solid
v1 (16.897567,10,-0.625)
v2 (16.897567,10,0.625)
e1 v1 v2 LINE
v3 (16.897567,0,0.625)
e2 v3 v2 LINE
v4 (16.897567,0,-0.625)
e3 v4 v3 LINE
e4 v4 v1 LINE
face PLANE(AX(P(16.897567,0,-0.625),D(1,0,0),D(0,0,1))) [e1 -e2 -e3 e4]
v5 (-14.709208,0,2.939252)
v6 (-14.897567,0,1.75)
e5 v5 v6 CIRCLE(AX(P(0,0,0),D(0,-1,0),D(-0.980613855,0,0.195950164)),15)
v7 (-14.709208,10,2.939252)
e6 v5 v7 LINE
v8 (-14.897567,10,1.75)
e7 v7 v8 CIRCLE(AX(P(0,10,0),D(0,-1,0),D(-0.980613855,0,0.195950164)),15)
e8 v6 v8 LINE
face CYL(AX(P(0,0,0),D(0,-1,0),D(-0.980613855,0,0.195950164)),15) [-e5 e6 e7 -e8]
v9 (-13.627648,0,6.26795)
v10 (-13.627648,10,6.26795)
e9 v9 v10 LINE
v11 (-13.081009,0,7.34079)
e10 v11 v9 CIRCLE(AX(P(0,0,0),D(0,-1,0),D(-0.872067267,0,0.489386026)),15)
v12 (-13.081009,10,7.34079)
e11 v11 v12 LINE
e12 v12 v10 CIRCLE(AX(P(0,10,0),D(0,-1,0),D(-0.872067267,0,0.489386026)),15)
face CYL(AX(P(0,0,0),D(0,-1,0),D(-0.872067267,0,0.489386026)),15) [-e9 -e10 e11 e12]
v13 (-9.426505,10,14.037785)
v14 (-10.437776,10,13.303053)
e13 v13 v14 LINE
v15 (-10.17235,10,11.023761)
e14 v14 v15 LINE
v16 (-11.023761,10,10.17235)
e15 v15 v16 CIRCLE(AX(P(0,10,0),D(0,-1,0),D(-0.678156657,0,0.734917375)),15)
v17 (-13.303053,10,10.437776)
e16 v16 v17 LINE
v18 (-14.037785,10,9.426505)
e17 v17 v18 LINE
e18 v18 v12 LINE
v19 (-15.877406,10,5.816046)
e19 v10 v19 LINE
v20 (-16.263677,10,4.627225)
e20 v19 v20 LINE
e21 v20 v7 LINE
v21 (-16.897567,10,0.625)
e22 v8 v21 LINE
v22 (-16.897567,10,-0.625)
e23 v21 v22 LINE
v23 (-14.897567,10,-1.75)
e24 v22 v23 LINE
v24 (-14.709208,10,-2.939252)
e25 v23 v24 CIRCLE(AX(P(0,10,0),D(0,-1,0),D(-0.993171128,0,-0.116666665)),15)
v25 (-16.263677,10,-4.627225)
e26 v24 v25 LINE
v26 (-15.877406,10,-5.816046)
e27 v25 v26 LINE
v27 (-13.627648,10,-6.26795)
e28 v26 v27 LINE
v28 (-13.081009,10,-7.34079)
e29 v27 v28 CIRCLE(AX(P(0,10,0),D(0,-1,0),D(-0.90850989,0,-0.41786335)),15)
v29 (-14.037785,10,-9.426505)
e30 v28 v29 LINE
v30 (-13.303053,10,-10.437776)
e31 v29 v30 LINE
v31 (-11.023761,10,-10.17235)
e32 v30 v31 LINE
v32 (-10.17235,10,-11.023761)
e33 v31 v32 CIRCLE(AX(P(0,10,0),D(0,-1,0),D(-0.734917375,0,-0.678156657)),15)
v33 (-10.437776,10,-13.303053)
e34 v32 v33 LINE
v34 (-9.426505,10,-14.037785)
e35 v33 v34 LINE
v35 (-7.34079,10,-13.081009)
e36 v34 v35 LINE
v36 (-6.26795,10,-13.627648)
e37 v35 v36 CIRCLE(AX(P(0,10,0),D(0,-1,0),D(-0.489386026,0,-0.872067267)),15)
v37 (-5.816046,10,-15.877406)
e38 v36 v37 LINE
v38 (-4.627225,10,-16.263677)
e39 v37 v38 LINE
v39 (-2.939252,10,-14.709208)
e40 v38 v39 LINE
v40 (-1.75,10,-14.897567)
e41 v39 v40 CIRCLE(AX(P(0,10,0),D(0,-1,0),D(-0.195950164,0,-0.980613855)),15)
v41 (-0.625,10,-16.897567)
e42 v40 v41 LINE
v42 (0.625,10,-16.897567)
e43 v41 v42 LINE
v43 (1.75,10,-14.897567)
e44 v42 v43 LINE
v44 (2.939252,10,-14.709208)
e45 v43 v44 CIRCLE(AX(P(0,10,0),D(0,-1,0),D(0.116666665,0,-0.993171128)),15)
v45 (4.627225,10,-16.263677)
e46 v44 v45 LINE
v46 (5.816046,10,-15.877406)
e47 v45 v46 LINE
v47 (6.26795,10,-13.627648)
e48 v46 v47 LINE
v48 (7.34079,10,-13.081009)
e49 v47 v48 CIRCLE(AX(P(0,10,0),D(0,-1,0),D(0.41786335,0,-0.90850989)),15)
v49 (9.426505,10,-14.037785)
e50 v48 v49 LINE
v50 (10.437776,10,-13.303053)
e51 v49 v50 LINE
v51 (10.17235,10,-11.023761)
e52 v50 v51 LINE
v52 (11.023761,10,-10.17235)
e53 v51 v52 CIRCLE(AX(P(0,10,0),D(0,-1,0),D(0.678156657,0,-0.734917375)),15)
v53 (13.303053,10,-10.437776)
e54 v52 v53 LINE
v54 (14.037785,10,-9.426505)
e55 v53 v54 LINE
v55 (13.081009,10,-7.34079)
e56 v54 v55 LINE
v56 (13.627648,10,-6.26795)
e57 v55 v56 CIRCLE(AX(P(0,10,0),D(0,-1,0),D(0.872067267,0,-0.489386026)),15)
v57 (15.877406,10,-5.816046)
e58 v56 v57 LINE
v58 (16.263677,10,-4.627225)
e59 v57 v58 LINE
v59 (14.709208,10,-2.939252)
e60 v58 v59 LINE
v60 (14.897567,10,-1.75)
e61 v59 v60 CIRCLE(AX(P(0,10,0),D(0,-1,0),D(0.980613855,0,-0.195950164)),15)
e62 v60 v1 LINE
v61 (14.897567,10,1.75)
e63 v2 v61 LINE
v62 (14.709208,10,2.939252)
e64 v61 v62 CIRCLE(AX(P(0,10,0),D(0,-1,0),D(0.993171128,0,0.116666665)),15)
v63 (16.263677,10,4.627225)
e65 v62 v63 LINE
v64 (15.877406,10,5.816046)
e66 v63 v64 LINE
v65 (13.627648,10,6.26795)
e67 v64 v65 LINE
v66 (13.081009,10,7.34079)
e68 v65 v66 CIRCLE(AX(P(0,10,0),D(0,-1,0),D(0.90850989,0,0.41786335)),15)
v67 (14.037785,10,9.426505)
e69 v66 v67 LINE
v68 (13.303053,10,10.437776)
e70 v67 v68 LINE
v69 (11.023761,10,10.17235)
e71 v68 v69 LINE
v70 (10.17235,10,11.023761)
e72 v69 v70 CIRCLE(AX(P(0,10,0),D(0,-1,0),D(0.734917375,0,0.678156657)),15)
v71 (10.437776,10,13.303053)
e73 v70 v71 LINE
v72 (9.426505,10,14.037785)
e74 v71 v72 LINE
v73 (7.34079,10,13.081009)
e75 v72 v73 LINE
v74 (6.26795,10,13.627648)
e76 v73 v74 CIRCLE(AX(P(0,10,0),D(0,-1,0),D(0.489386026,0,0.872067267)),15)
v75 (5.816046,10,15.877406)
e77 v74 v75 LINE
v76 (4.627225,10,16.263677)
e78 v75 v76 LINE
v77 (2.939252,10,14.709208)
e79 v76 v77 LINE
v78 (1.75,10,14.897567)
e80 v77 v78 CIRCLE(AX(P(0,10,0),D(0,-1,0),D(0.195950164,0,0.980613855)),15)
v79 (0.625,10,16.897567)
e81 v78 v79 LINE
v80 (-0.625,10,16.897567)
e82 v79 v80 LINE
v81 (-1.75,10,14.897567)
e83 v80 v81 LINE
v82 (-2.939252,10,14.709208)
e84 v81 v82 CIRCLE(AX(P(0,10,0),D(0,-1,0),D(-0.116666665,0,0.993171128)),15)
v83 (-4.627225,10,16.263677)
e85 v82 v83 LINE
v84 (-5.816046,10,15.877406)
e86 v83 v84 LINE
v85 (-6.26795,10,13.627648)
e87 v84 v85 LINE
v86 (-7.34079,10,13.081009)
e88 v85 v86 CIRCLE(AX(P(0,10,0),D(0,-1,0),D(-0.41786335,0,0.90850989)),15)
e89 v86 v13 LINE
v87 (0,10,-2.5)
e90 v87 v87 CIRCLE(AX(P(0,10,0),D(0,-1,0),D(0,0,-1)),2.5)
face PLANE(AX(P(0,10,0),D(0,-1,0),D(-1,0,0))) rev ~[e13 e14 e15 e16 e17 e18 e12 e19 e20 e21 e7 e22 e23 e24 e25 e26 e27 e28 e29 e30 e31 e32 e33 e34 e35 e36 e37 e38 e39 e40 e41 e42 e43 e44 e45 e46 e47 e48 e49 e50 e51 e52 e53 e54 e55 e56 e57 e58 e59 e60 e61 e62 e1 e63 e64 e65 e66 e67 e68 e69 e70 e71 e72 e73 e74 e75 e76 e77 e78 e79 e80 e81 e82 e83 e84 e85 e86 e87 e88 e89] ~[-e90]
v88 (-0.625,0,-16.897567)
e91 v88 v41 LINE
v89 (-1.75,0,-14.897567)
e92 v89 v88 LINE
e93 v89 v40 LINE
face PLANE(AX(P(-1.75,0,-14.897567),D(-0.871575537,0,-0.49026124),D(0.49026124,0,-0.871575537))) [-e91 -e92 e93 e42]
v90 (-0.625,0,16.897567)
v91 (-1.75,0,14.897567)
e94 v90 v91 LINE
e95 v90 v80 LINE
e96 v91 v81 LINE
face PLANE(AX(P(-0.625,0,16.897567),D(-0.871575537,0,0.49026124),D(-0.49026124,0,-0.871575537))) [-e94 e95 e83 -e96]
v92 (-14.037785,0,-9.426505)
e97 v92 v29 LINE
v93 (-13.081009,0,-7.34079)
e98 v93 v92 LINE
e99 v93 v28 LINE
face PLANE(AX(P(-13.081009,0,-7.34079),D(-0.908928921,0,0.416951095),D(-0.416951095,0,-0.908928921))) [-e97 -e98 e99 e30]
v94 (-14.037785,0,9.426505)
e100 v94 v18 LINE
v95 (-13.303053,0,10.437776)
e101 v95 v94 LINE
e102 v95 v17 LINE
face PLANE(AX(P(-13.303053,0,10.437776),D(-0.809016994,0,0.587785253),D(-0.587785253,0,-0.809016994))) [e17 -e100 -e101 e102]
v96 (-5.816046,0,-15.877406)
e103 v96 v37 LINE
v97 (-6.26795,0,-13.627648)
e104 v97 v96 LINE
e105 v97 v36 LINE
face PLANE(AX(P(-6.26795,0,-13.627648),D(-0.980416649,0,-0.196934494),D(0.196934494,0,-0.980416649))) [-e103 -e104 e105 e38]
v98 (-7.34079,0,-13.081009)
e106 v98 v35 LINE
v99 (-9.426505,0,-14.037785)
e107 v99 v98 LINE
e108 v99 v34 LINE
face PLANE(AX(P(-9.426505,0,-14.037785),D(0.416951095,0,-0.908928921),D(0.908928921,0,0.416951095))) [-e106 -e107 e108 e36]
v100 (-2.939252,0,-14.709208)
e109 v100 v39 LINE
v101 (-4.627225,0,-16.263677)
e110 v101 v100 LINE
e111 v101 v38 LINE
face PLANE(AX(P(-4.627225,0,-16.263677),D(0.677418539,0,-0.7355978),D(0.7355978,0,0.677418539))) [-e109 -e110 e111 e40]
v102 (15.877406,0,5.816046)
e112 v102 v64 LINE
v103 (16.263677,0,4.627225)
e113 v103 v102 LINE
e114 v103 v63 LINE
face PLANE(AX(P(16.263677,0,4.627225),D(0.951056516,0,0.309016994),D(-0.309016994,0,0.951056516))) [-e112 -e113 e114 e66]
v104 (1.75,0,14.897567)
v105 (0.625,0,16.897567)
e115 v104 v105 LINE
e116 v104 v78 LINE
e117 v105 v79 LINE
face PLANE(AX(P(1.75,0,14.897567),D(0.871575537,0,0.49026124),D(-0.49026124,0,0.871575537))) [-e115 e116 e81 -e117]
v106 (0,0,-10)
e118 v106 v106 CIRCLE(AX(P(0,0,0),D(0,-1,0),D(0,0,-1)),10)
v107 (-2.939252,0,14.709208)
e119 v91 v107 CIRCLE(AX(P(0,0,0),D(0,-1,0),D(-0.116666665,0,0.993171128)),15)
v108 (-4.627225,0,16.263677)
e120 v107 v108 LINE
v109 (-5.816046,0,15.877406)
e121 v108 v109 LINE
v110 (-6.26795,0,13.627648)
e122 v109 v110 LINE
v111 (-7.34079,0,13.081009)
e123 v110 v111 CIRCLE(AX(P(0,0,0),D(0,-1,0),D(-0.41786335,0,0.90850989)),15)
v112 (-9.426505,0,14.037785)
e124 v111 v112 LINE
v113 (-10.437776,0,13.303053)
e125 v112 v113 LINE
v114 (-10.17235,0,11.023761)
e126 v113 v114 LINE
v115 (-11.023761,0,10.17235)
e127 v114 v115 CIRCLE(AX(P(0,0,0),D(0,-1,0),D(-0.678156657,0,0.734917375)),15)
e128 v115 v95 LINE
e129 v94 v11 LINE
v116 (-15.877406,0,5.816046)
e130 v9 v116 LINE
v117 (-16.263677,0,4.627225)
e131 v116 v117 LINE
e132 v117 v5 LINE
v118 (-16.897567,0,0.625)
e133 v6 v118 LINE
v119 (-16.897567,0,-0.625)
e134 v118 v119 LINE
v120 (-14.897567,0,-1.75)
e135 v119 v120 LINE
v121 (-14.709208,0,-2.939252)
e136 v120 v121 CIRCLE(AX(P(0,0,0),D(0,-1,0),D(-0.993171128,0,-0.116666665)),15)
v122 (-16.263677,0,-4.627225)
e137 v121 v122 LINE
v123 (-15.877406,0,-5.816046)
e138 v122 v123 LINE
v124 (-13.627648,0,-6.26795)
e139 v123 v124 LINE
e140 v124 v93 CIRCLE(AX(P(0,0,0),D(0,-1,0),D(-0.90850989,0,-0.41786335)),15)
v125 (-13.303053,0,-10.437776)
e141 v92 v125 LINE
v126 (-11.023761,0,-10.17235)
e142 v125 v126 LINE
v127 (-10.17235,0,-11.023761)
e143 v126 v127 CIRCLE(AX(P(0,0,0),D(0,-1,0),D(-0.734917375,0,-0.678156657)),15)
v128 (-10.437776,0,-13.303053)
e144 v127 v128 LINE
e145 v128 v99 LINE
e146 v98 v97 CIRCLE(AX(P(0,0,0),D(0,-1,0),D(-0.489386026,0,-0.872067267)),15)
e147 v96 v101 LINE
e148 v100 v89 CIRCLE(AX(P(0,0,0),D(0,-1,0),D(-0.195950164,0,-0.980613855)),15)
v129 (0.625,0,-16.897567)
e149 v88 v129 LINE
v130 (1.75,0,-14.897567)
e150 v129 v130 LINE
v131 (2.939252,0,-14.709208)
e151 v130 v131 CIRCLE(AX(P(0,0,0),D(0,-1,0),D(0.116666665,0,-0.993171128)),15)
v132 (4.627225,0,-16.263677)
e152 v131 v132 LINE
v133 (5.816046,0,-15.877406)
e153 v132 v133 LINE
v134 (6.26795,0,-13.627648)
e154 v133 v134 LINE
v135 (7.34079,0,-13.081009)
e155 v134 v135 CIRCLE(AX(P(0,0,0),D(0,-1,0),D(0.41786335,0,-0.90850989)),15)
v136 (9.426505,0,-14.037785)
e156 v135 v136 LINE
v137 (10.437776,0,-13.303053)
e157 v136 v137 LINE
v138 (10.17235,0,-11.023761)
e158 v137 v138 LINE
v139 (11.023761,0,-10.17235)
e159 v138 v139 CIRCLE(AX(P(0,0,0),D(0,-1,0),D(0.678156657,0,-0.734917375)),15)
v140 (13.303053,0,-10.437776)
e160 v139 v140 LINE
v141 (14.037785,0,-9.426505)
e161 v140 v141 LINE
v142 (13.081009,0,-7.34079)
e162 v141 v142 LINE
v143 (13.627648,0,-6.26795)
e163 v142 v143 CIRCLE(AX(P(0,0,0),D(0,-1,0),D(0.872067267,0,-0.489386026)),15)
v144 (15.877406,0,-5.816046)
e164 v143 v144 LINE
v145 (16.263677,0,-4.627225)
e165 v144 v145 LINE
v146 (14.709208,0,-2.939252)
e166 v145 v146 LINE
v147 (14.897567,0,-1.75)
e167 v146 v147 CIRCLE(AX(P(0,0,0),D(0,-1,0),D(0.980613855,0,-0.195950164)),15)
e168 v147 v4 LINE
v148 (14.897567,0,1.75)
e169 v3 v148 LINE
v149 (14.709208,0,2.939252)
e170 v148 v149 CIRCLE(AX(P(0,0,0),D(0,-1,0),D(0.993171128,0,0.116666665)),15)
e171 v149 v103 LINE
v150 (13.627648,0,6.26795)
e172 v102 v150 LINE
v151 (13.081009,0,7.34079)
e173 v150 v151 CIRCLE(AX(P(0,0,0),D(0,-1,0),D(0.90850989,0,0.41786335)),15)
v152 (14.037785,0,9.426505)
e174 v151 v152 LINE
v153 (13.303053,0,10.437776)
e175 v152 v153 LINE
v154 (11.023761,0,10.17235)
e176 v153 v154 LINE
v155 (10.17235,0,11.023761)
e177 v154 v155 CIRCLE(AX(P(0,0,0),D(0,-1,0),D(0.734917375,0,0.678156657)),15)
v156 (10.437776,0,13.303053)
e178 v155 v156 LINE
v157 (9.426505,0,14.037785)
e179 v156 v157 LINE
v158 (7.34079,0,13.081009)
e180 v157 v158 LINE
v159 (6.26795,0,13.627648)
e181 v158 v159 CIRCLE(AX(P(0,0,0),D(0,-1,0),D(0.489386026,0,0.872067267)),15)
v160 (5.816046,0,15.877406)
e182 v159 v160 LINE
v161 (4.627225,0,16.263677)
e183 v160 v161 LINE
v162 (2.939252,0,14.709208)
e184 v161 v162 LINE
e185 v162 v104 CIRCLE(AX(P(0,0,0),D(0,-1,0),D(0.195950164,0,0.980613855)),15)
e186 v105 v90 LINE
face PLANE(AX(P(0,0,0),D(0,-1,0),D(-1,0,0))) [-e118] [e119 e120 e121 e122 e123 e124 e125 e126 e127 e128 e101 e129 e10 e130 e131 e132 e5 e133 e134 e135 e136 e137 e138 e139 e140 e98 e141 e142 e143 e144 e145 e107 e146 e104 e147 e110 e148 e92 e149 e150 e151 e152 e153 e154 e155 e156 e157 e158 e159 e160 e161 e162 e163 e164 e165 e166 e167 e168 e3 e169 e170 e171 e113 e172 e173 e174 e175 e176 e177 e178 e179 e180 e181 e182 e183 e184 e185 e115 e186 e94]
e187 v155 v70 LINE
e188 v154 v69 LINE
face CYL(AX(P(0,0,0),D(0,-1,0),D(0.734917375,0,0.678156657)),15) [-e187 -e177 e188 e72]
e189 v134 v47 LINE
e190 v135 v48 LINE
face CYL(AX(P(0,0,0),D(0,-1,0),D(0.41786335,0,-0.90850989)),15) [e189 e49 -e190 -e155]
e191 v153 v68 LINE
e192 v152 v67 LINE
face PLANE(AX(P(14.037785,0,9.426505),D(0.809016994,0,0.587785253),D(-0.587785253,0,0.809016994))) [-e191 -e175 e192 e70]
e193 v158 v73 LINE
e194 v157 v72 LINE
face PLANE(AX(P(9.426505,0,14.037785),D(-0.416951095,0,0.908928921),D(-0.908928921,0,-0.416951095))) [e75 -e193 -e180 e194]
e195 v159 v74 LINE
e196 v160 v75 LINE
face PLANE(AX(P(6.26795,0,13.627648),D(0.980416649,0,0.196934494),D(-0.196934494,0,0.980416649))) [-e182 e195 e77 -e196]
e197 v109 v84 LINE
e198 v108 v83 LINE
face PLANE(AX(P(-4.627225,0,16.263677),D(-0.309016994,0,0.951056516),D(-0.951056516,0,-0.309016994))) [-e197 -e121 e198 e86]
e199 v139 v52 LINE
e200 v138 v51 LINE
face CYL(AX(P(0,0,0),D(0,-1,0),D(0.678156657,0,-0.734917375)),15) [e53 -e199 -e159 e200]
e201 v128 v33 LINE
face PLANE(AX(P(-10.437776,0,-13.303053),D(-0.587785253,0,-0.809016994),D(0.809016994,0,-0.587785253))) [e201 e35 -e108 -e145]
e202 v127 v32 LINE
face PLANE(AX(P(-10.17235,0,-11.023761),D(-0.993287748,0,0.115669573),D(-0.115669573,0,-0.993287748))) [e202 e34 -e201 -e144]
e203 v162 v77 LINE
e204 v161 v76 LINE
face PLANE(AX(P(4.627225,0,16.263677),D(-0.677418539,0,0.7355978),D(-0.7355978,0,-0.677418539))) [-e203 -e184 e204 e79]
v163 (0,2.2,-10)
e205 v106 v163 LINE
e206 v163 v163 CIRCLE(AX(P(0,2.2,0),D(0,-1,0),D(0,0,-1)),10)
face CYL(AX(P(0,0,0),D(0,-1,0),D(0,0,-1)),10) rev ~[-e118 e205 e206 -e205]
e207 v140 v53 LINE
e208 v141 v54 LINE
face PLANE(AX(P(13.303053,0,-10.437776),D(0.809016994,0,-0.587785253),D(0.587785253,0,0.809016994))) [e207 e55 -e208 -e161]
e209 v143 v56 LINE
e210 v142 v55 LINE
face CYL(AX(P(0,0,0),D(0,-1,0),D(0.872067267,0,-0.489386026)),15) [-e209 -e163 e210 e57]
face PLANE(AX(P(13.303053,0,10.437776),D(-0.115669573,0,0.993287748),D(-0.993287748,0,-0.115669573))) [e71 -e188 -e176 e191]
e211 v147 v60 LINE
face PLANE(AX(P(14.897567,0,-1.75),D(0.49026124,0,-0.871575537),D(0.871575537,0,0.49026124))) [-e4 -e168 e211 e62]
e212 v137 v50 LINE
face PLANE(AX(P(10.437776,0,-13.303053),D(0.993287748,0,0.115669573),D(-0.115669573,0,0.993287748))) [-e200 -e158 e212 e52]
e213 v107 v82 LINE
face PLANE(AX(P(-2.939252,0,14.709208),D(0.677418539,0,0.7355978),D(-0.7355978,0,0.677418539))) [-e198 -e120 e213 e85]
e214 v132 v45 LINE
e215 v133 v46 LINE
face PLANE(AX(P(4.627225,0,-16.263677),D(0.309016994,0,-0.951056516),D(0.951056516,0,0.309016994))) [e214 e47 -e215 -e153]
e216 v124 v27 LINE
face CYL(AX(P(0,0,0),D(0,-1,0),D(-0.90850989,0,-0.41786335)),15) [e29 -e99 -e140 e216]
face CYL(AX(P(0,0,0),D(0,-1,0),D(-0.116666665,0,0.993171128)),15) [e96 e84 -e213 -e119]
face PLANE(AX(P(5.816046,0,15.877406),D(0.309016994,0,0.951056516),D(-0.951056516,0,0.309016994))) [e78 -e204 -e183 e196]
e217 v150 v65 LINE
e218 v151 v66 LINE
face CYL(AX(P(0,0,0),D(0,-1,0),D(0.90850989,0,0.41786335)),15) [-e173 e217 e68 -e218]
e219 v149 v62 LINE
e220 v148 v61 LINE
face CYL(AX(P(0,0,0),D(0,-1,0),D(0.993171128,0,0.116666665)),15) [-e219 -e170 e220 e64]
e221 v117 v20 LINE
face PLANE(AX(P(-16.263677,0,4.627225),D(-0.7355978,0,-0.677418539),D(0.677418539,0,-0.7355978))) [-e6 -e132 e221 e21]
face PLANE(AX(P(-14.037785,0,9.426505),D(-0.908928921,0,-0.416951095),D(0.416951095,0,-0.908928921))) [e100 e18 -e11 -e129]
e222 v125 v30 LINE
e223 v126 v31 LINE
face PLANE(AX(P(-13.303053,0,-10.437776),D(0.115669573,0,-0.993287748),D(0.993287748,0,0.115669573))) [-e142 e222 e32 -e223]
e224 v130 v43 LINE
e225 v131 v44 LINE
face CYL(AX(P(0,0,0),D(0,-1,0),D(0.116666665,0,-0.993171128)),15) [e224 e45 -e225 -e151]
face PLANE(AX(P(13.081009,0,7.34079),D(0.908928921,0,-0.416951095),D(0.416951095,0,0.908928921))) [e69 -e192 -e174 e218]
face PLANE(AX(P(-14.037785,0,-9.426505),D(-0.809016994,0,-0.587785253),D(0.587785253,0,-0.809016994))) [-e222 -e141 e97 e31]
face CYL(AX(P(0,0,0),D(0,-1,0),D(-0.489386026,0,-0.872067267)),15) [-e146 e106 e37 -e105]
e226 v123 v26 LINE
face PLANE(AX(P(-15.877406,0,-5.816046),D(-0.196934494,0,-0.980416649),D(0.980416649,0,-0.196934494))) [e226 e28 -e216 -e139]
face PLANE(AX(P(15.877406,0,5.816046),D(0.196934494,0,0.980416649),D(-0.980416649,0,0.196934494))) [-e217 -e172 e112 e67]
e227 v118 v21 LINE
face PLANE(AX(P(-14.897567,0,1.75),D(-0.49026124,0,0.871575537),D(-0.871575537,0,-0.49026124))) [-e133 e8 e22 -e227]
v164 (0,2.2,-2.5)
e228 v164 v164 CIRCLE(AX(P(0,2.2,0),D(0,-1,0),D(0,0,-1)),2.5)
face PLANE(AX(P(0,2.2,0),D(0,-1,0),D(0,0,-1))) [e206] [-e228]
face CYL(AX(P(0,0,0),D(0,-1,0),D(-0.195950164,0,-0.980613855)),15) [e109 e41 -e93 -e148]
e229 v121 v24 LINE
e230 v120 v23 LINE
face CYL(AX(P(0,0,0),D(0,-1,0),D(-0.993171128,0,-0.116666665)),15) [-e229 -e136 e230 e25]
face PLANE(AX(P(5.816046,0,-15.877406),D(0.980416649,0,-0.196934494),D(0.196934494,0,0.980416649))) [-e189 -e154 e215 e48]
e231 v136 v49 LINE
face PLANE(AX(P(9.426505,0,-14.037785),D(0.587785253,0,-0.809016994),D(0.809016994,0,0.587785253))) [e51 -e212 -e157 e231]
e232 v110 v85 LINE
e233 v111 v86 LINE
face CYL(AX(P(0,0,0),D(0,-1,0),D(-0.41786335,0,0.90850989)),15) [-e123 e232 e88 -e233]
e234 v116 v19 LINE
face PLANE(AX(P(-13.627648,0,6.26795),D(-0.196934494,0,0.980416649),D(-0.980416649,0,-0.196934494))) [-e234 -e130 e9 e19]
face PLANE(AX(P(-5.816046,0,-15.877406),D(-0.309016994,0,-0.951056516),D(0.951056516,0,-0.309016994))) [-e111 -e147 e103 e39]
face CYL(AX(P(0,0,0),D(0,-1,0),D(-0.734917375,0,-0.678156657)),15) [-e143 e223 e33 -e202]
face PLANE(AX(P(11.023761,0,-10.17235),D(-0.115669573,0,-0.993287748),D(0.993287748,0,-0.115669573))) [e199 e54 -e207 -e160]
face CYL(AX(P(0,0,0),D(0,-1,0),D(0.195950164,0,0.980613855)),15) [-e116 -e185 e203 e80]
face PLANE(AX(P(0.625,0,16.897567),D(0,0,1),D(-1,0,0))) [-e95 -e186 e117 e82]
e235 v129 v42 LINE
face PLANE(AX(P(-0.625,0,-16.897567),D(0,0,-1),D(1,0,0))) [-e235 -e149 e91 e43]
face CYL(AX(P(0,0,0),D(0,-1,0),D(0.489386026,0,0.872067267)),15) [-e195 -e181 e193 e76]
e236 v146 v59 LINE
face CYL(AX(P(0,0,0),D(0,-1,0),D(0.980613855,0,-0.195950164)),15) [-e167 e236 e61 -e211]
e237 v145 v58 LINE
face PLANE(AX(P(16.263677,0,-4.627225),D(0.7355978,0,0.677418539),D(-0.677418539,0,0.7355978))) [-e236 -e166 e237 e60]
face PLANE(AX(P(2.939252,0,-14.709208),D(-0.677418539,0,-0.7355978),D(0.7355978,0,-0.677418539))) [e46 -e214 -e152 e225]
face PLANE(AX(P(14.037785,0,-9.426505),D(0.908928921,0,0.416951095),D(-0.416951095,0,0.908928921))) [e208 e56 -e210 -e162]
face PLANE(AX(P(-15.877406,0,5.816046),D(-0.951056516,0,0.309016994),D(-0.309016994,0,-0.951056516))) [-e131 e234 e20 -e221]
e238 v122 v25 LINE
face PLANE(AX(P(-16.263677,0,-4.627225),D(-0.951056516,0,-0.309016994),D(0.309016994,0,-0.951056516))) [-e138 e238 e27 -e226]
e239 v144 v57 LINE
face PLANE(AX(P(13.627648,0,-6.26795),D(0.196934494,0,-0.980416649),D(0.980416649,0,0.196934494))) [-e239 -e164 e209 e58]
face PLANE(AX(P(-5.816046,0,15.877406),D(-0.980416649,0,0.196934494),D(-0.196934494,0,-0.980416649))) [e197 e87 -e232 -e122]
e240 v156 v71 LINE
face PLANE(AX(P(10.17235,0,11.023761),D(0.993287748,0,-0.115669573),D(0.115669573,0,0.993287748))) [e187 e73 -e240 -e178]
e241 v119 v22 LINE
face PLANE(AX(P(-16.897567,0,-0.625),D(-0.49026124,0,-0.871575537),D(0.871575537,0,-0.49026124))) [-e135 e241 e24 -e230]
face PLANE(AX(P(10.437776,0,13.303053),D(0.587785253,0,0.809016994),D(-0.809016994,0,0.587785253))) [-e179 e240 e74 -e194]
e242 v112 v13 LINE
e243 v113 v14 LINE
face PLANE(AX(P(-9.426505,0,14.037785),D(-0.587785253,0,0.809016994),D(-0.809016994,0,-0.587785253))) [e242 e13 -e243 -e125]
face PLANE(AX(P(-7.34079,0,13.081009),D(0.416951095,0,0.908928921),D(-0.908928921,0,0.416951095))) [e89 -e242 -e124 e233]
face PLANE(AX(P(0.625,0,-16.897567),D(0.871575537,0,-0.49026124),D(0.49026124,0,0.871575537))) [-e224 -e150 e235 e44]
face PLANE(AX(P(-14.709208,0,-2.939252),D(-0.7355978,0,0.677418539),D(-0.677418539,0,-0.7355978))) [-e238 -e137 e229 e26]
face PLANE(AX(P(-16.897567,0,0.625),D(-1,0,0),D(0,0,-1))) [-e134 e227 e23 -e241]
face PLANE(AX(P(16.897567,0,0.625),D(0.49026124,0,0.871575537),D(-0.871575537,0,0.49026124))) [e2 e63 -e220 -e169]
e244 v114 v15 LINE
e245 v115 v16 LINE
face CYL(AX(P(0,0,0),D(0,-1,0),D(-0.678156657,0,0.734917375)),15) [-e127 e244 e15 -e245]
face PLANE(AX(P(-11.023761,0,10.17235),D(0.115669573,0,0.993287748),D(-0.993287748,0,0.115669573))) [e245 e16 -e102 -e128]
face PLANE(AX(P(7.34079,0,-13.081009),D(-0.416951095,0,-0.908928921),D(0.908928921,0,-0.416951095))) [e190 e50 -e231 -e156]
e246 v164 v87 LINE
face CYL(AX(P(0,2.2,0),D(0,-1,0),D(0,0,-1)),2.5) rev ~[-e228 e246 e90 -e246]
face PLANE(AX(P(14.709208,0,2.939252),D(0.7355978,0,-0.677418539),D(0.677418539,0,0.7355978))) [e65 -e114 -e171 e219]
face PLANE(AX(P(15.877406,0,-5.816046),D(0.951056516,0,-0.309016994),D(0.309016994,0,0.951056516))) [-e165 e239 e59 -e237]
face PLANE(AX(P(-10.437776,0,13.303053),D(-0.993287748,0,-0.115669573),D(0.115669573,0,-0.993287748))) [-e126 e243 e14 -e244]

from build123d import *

# Parameters (mm, degrees)
BOSS_EXTRUDE2_DEPTH = 10
SKETCH3_R           = 10
CUT_EXTRUDE1_DEPTH  = 2.2
SKETCH4_R           = 2.5
CUT_EXTRUDE2_DEPTH  = 26.137532403


with BuildPart() as part:
    # Sketch2 → Boss-Extrude2 (new body)
    with BuildSketch(Plane(origin=(0, 0, 0), x_dir=(1, 0, 0), z_dir=(0, 1, 0))):
        with BuildLine():
            Line((-0.625, 16.897566915), (0.625, 16.897566915))
            Line((0.625, 16.897566915), (1.75, 14.897566915))
            ThreePointArc((1.75, 14.897566915), (2.346516976, 14.815325109), (2.939252448, 14.709207832))
            Line((2.939252448, 14.709207832), (4.627225018, 16.263676746))
            Line((4.627225018, 16.263676746), (5.816045663, 15.877405503))
            Line((5.816045663, 15.877405503), (6.267950255, 13.627648352))
            ThreePointArc((6.267950255, 13.627648352), (6.809857496, 13.365097863), (7.340790388, 13.081009001))
            Line((7.340790388, 13.081009001), (9.426505011, 14.037784581))
            Line((9.426505011, 14.037784581), (10.437776254, 13.303053015))
            Line((10.437776254, 13.303053015), (10.172349868, 11.023760618))
            ThreePointArc((10.172349868, 11.023760618), (10.606601718, 10.606601718), (11.023760618, 10.172349868))
            Line((11.023760618, 10.172349868), (13.303053015, 10.437776254))
            Line((13.303053015, 10.437776254), (14.037784581, 9.426505011))
            Line((14.037784581, 9.426505011), (13.081009001, 7.340790388))
            ThreePointArc((13.081009001, 7.340790388), (13.365097863, 6.809857496), (13.627648352, 6.267950255))
            Line((13.627648352, 6.267950255), (15.877405503, 5.816045663))
            Line((15.877405503, 5.816045663), (16.263676746, 4.627225018))
            Line((16.263676746, 4.627225018), (14.709207832, 2.939252448))
            ThreePointArc((14.709207832, 2.939252448), (14.815325109, 2.346516976), (14.897566915, 1.75))
            Line((14.897566915, 1.75), (16.897566915, 0.625))
            Line((16.897566915, 0.625), (16.897566915, -0.625))
            Line((16.897566915, -0.625), (14.897566915, -1.75))
            ThreePointArc((14.897566915, -1.75), (14.815325109, -2.346516976), (14.709207832, -2.939252448))
            Line((14.709207832, -2.939252448), (16.263676746, -4.627225018))
            Line((16.263676746, -4.627225018), (15.877405503, -5.816045663))
            Line((15.877405503, -5.816045663), (13.627648352, -6.267950255))
            ThreePointArc((13.627648352, -6.267950255), (13.365097863, -6.809857496), (13.081009001, -7.340790388))
            Line((13.081009001, -7.340790388), (14.037784581, -9.426505011))
            Line((14.037784581, -9.426505011), (13.303053015, -10.437776254))
            Line((13.303053015, -10.437776254), (11.023760618, -10.172349868))
            ThreePointArc((11.023760618, -10.172349868), (10.606601718, -10.606601718), (10.172349868, -11.023760618))
            Line((10.172349868, -11.023760618), (10.437776254, -13.303053015))
            Line((10.437776254, -13.303053015), (9.426505011, -14.037784581))
            Line((9.426505011, -14.037784581), (7.340790388, -13.081009001))
            ThreePointArc((7.340790388, -13.081009001), (6.809857496, -13.365097863), (6.267950255, -13.627648352))
            Line((6.267950255, -13.627648352), (5.816045663, -15.877405503))
            Line((5.816045663, -15.877405503), (4.627225018, -16.263676746))
            Line((4.627225018, -16.263676746), (2.939252448, -14.709207832))
            ThreePointArc((2.939252448, -14.709207832), (2.346516976, -14.815325109), (1.75, -14.897566915))
            Line((1.75, -14.897566915), (0.625, -16.897566915))
            Line((0.625, -16.897566915), (-0.625, -16.897566915))
            Line((-0.625, -16.897566915), (-1.75, -14.897566915))
            ThreePointArc((-1.75, -14.897566915), (-2.346516976, -14.815325109), (-2.939252448, -14.709207832))
            Line((-2.939252448, -14.709207832), (-4.627225018, -16.263676746))
            Line((-4.627225018, -16.263676746), (-5.816045663, -15.877405503))
            Line((-5.816045663, -15.877405503), (-6.267950255, -13.627648352))
            ThreePointArc((-6.267950255, -13.627648352), (-6.809857496, -13.365097863), (-7.340790388, -13.081009001))
            Line((-7.340790388, -13.081009001), (-9.426505011, -14.037784581))
            Line((-9.426505011, -14.037784581), (-10.437776254, -13.303053015))
            Line((-10.437776254, -13.303053015), (-10.172349868, -11.023760618))
            ThreePointArc((-10.172349868, -11.023760618), (-10.606601718, -10.606601718), (-11.023760618, -10.172349868))
            Line((-11.023760618, -10.172349868), (-13.303053015, -10.437776254))
            Line((-13.303053015, -10.437776254), (-14.037784581, -9.426505011))
            Line((-14.037784581, -9.426505011), (-13.081009001, -7.340790388))
            ThreePointArc((-13.081009001, -7.340790388), (-13.365097863, -6.809857496), (-13.627648352, -6.267950255))
            Line((-13.627648352, -6.267950255), (-15.877405503, -5.816045663))
            Line((-15.877405503, -5.816045663), (-16.263676746, -4.627225018))
            Line((-16.263676746, -4.627225018), (-14.709207832, -2.939252448))
            ThreePointArc((-14.709207832, -2.939252448), (-14.815325109, -2.346516976), (-14.897566915, -1.75))
            Line((-14.897566915, -1.75), (-16.897566915, -0.625))
            Line((-16.897566915, -0.625), (-16.897566915, 0.625))
            Line((-16.897566915, 0.625), (-14.897566915, 1.75))
            ThreePointArc((-14.897566915, 1.75), (-14.815325109, 2.346516976), (-14.709207832, 2.939252448))
            Line((-14.709207832, 2.939252448), (-16.263676746, 4.627225018))
            Line((-16.263676746, 4.627225018), (-15.877405503, 5.816045663))
            Line((-15.877405503, 5.816045663), (-13.627648352, 6.267950255))
            ThreePointArc((-13.627648352, 6.267950255), (-13.365097863, 6.809857496), (-13.081009001, 7.340790388))
            Line((-13.081009001, 7.340790388), (-14.037784581, 9.426505011))
            Line((-14.037784581, 9.426505011), (-13.303053015, 10.437776254))
            Line((-13.303053015, 10.437776254), (-11.023760618, 10.172349868))
            ThreePointArc((-11.023760618, 10.172349868), (-10.606601718, 10.606601718), (-10.172349868, 11.023760618))
            Line((-10.172349868, 11.023760618), (-10.437776254, 13.303053015))
            Line((-10.437776254, 13.303053015), (-9.426505011, 14.037784581))
            Line((-9.426505011, 14.037784581), (-7.340790388, 13.081009001))
            ThreePointArc((-7.340790388, 13.081009001), (-6.809857496, 13.365097863), (-6.267950255, 13.627648352))
            Line((-6.267950255, 13.627648352), (-5.816045663, 15.877405503))
            Line((-5.816045663, 15.877405503), (-4.627225018, 16.263676746))
            Line((-4.627225018, 16.263676746), (-2.939252448, 14.709207832))
            ThreePointArc((-2.939252448, 14.709207832), (-2.346516976, 14.815325109), (-1.75, 14.897566915))
            Line((-1.75, 14.897566915), (-0.625, 16.897566915))
        make_face()
    extrude(amount=BOSS_EXTRUDE2_DEPTH)

    # Sketch3 → Cut-Extrude1 (cut)
    with BuildSketch(Plane.XZ):
        with Locations(Location((0, 0, 0), (0, 0, 270))):
            Circle(SKETCH3_R)
    extrude(amount=-CUT_EXTRUDE1_DEPTH, mode=Mode.SUBTRACT)

    # Sketch4 → Cut-Extrude2 (cut, through all)
    with BuildSketch(Plane.XZ.offset(-2.2)):
        with Locations(Location((0, 0, 0), (0, 0, 270))):
            Circle(SKETCH4_R)
    extrude(amount=-CUT_EXTRUDE2_DEPTH, mode=Mode.SUBTRACT)


solid = part.part
